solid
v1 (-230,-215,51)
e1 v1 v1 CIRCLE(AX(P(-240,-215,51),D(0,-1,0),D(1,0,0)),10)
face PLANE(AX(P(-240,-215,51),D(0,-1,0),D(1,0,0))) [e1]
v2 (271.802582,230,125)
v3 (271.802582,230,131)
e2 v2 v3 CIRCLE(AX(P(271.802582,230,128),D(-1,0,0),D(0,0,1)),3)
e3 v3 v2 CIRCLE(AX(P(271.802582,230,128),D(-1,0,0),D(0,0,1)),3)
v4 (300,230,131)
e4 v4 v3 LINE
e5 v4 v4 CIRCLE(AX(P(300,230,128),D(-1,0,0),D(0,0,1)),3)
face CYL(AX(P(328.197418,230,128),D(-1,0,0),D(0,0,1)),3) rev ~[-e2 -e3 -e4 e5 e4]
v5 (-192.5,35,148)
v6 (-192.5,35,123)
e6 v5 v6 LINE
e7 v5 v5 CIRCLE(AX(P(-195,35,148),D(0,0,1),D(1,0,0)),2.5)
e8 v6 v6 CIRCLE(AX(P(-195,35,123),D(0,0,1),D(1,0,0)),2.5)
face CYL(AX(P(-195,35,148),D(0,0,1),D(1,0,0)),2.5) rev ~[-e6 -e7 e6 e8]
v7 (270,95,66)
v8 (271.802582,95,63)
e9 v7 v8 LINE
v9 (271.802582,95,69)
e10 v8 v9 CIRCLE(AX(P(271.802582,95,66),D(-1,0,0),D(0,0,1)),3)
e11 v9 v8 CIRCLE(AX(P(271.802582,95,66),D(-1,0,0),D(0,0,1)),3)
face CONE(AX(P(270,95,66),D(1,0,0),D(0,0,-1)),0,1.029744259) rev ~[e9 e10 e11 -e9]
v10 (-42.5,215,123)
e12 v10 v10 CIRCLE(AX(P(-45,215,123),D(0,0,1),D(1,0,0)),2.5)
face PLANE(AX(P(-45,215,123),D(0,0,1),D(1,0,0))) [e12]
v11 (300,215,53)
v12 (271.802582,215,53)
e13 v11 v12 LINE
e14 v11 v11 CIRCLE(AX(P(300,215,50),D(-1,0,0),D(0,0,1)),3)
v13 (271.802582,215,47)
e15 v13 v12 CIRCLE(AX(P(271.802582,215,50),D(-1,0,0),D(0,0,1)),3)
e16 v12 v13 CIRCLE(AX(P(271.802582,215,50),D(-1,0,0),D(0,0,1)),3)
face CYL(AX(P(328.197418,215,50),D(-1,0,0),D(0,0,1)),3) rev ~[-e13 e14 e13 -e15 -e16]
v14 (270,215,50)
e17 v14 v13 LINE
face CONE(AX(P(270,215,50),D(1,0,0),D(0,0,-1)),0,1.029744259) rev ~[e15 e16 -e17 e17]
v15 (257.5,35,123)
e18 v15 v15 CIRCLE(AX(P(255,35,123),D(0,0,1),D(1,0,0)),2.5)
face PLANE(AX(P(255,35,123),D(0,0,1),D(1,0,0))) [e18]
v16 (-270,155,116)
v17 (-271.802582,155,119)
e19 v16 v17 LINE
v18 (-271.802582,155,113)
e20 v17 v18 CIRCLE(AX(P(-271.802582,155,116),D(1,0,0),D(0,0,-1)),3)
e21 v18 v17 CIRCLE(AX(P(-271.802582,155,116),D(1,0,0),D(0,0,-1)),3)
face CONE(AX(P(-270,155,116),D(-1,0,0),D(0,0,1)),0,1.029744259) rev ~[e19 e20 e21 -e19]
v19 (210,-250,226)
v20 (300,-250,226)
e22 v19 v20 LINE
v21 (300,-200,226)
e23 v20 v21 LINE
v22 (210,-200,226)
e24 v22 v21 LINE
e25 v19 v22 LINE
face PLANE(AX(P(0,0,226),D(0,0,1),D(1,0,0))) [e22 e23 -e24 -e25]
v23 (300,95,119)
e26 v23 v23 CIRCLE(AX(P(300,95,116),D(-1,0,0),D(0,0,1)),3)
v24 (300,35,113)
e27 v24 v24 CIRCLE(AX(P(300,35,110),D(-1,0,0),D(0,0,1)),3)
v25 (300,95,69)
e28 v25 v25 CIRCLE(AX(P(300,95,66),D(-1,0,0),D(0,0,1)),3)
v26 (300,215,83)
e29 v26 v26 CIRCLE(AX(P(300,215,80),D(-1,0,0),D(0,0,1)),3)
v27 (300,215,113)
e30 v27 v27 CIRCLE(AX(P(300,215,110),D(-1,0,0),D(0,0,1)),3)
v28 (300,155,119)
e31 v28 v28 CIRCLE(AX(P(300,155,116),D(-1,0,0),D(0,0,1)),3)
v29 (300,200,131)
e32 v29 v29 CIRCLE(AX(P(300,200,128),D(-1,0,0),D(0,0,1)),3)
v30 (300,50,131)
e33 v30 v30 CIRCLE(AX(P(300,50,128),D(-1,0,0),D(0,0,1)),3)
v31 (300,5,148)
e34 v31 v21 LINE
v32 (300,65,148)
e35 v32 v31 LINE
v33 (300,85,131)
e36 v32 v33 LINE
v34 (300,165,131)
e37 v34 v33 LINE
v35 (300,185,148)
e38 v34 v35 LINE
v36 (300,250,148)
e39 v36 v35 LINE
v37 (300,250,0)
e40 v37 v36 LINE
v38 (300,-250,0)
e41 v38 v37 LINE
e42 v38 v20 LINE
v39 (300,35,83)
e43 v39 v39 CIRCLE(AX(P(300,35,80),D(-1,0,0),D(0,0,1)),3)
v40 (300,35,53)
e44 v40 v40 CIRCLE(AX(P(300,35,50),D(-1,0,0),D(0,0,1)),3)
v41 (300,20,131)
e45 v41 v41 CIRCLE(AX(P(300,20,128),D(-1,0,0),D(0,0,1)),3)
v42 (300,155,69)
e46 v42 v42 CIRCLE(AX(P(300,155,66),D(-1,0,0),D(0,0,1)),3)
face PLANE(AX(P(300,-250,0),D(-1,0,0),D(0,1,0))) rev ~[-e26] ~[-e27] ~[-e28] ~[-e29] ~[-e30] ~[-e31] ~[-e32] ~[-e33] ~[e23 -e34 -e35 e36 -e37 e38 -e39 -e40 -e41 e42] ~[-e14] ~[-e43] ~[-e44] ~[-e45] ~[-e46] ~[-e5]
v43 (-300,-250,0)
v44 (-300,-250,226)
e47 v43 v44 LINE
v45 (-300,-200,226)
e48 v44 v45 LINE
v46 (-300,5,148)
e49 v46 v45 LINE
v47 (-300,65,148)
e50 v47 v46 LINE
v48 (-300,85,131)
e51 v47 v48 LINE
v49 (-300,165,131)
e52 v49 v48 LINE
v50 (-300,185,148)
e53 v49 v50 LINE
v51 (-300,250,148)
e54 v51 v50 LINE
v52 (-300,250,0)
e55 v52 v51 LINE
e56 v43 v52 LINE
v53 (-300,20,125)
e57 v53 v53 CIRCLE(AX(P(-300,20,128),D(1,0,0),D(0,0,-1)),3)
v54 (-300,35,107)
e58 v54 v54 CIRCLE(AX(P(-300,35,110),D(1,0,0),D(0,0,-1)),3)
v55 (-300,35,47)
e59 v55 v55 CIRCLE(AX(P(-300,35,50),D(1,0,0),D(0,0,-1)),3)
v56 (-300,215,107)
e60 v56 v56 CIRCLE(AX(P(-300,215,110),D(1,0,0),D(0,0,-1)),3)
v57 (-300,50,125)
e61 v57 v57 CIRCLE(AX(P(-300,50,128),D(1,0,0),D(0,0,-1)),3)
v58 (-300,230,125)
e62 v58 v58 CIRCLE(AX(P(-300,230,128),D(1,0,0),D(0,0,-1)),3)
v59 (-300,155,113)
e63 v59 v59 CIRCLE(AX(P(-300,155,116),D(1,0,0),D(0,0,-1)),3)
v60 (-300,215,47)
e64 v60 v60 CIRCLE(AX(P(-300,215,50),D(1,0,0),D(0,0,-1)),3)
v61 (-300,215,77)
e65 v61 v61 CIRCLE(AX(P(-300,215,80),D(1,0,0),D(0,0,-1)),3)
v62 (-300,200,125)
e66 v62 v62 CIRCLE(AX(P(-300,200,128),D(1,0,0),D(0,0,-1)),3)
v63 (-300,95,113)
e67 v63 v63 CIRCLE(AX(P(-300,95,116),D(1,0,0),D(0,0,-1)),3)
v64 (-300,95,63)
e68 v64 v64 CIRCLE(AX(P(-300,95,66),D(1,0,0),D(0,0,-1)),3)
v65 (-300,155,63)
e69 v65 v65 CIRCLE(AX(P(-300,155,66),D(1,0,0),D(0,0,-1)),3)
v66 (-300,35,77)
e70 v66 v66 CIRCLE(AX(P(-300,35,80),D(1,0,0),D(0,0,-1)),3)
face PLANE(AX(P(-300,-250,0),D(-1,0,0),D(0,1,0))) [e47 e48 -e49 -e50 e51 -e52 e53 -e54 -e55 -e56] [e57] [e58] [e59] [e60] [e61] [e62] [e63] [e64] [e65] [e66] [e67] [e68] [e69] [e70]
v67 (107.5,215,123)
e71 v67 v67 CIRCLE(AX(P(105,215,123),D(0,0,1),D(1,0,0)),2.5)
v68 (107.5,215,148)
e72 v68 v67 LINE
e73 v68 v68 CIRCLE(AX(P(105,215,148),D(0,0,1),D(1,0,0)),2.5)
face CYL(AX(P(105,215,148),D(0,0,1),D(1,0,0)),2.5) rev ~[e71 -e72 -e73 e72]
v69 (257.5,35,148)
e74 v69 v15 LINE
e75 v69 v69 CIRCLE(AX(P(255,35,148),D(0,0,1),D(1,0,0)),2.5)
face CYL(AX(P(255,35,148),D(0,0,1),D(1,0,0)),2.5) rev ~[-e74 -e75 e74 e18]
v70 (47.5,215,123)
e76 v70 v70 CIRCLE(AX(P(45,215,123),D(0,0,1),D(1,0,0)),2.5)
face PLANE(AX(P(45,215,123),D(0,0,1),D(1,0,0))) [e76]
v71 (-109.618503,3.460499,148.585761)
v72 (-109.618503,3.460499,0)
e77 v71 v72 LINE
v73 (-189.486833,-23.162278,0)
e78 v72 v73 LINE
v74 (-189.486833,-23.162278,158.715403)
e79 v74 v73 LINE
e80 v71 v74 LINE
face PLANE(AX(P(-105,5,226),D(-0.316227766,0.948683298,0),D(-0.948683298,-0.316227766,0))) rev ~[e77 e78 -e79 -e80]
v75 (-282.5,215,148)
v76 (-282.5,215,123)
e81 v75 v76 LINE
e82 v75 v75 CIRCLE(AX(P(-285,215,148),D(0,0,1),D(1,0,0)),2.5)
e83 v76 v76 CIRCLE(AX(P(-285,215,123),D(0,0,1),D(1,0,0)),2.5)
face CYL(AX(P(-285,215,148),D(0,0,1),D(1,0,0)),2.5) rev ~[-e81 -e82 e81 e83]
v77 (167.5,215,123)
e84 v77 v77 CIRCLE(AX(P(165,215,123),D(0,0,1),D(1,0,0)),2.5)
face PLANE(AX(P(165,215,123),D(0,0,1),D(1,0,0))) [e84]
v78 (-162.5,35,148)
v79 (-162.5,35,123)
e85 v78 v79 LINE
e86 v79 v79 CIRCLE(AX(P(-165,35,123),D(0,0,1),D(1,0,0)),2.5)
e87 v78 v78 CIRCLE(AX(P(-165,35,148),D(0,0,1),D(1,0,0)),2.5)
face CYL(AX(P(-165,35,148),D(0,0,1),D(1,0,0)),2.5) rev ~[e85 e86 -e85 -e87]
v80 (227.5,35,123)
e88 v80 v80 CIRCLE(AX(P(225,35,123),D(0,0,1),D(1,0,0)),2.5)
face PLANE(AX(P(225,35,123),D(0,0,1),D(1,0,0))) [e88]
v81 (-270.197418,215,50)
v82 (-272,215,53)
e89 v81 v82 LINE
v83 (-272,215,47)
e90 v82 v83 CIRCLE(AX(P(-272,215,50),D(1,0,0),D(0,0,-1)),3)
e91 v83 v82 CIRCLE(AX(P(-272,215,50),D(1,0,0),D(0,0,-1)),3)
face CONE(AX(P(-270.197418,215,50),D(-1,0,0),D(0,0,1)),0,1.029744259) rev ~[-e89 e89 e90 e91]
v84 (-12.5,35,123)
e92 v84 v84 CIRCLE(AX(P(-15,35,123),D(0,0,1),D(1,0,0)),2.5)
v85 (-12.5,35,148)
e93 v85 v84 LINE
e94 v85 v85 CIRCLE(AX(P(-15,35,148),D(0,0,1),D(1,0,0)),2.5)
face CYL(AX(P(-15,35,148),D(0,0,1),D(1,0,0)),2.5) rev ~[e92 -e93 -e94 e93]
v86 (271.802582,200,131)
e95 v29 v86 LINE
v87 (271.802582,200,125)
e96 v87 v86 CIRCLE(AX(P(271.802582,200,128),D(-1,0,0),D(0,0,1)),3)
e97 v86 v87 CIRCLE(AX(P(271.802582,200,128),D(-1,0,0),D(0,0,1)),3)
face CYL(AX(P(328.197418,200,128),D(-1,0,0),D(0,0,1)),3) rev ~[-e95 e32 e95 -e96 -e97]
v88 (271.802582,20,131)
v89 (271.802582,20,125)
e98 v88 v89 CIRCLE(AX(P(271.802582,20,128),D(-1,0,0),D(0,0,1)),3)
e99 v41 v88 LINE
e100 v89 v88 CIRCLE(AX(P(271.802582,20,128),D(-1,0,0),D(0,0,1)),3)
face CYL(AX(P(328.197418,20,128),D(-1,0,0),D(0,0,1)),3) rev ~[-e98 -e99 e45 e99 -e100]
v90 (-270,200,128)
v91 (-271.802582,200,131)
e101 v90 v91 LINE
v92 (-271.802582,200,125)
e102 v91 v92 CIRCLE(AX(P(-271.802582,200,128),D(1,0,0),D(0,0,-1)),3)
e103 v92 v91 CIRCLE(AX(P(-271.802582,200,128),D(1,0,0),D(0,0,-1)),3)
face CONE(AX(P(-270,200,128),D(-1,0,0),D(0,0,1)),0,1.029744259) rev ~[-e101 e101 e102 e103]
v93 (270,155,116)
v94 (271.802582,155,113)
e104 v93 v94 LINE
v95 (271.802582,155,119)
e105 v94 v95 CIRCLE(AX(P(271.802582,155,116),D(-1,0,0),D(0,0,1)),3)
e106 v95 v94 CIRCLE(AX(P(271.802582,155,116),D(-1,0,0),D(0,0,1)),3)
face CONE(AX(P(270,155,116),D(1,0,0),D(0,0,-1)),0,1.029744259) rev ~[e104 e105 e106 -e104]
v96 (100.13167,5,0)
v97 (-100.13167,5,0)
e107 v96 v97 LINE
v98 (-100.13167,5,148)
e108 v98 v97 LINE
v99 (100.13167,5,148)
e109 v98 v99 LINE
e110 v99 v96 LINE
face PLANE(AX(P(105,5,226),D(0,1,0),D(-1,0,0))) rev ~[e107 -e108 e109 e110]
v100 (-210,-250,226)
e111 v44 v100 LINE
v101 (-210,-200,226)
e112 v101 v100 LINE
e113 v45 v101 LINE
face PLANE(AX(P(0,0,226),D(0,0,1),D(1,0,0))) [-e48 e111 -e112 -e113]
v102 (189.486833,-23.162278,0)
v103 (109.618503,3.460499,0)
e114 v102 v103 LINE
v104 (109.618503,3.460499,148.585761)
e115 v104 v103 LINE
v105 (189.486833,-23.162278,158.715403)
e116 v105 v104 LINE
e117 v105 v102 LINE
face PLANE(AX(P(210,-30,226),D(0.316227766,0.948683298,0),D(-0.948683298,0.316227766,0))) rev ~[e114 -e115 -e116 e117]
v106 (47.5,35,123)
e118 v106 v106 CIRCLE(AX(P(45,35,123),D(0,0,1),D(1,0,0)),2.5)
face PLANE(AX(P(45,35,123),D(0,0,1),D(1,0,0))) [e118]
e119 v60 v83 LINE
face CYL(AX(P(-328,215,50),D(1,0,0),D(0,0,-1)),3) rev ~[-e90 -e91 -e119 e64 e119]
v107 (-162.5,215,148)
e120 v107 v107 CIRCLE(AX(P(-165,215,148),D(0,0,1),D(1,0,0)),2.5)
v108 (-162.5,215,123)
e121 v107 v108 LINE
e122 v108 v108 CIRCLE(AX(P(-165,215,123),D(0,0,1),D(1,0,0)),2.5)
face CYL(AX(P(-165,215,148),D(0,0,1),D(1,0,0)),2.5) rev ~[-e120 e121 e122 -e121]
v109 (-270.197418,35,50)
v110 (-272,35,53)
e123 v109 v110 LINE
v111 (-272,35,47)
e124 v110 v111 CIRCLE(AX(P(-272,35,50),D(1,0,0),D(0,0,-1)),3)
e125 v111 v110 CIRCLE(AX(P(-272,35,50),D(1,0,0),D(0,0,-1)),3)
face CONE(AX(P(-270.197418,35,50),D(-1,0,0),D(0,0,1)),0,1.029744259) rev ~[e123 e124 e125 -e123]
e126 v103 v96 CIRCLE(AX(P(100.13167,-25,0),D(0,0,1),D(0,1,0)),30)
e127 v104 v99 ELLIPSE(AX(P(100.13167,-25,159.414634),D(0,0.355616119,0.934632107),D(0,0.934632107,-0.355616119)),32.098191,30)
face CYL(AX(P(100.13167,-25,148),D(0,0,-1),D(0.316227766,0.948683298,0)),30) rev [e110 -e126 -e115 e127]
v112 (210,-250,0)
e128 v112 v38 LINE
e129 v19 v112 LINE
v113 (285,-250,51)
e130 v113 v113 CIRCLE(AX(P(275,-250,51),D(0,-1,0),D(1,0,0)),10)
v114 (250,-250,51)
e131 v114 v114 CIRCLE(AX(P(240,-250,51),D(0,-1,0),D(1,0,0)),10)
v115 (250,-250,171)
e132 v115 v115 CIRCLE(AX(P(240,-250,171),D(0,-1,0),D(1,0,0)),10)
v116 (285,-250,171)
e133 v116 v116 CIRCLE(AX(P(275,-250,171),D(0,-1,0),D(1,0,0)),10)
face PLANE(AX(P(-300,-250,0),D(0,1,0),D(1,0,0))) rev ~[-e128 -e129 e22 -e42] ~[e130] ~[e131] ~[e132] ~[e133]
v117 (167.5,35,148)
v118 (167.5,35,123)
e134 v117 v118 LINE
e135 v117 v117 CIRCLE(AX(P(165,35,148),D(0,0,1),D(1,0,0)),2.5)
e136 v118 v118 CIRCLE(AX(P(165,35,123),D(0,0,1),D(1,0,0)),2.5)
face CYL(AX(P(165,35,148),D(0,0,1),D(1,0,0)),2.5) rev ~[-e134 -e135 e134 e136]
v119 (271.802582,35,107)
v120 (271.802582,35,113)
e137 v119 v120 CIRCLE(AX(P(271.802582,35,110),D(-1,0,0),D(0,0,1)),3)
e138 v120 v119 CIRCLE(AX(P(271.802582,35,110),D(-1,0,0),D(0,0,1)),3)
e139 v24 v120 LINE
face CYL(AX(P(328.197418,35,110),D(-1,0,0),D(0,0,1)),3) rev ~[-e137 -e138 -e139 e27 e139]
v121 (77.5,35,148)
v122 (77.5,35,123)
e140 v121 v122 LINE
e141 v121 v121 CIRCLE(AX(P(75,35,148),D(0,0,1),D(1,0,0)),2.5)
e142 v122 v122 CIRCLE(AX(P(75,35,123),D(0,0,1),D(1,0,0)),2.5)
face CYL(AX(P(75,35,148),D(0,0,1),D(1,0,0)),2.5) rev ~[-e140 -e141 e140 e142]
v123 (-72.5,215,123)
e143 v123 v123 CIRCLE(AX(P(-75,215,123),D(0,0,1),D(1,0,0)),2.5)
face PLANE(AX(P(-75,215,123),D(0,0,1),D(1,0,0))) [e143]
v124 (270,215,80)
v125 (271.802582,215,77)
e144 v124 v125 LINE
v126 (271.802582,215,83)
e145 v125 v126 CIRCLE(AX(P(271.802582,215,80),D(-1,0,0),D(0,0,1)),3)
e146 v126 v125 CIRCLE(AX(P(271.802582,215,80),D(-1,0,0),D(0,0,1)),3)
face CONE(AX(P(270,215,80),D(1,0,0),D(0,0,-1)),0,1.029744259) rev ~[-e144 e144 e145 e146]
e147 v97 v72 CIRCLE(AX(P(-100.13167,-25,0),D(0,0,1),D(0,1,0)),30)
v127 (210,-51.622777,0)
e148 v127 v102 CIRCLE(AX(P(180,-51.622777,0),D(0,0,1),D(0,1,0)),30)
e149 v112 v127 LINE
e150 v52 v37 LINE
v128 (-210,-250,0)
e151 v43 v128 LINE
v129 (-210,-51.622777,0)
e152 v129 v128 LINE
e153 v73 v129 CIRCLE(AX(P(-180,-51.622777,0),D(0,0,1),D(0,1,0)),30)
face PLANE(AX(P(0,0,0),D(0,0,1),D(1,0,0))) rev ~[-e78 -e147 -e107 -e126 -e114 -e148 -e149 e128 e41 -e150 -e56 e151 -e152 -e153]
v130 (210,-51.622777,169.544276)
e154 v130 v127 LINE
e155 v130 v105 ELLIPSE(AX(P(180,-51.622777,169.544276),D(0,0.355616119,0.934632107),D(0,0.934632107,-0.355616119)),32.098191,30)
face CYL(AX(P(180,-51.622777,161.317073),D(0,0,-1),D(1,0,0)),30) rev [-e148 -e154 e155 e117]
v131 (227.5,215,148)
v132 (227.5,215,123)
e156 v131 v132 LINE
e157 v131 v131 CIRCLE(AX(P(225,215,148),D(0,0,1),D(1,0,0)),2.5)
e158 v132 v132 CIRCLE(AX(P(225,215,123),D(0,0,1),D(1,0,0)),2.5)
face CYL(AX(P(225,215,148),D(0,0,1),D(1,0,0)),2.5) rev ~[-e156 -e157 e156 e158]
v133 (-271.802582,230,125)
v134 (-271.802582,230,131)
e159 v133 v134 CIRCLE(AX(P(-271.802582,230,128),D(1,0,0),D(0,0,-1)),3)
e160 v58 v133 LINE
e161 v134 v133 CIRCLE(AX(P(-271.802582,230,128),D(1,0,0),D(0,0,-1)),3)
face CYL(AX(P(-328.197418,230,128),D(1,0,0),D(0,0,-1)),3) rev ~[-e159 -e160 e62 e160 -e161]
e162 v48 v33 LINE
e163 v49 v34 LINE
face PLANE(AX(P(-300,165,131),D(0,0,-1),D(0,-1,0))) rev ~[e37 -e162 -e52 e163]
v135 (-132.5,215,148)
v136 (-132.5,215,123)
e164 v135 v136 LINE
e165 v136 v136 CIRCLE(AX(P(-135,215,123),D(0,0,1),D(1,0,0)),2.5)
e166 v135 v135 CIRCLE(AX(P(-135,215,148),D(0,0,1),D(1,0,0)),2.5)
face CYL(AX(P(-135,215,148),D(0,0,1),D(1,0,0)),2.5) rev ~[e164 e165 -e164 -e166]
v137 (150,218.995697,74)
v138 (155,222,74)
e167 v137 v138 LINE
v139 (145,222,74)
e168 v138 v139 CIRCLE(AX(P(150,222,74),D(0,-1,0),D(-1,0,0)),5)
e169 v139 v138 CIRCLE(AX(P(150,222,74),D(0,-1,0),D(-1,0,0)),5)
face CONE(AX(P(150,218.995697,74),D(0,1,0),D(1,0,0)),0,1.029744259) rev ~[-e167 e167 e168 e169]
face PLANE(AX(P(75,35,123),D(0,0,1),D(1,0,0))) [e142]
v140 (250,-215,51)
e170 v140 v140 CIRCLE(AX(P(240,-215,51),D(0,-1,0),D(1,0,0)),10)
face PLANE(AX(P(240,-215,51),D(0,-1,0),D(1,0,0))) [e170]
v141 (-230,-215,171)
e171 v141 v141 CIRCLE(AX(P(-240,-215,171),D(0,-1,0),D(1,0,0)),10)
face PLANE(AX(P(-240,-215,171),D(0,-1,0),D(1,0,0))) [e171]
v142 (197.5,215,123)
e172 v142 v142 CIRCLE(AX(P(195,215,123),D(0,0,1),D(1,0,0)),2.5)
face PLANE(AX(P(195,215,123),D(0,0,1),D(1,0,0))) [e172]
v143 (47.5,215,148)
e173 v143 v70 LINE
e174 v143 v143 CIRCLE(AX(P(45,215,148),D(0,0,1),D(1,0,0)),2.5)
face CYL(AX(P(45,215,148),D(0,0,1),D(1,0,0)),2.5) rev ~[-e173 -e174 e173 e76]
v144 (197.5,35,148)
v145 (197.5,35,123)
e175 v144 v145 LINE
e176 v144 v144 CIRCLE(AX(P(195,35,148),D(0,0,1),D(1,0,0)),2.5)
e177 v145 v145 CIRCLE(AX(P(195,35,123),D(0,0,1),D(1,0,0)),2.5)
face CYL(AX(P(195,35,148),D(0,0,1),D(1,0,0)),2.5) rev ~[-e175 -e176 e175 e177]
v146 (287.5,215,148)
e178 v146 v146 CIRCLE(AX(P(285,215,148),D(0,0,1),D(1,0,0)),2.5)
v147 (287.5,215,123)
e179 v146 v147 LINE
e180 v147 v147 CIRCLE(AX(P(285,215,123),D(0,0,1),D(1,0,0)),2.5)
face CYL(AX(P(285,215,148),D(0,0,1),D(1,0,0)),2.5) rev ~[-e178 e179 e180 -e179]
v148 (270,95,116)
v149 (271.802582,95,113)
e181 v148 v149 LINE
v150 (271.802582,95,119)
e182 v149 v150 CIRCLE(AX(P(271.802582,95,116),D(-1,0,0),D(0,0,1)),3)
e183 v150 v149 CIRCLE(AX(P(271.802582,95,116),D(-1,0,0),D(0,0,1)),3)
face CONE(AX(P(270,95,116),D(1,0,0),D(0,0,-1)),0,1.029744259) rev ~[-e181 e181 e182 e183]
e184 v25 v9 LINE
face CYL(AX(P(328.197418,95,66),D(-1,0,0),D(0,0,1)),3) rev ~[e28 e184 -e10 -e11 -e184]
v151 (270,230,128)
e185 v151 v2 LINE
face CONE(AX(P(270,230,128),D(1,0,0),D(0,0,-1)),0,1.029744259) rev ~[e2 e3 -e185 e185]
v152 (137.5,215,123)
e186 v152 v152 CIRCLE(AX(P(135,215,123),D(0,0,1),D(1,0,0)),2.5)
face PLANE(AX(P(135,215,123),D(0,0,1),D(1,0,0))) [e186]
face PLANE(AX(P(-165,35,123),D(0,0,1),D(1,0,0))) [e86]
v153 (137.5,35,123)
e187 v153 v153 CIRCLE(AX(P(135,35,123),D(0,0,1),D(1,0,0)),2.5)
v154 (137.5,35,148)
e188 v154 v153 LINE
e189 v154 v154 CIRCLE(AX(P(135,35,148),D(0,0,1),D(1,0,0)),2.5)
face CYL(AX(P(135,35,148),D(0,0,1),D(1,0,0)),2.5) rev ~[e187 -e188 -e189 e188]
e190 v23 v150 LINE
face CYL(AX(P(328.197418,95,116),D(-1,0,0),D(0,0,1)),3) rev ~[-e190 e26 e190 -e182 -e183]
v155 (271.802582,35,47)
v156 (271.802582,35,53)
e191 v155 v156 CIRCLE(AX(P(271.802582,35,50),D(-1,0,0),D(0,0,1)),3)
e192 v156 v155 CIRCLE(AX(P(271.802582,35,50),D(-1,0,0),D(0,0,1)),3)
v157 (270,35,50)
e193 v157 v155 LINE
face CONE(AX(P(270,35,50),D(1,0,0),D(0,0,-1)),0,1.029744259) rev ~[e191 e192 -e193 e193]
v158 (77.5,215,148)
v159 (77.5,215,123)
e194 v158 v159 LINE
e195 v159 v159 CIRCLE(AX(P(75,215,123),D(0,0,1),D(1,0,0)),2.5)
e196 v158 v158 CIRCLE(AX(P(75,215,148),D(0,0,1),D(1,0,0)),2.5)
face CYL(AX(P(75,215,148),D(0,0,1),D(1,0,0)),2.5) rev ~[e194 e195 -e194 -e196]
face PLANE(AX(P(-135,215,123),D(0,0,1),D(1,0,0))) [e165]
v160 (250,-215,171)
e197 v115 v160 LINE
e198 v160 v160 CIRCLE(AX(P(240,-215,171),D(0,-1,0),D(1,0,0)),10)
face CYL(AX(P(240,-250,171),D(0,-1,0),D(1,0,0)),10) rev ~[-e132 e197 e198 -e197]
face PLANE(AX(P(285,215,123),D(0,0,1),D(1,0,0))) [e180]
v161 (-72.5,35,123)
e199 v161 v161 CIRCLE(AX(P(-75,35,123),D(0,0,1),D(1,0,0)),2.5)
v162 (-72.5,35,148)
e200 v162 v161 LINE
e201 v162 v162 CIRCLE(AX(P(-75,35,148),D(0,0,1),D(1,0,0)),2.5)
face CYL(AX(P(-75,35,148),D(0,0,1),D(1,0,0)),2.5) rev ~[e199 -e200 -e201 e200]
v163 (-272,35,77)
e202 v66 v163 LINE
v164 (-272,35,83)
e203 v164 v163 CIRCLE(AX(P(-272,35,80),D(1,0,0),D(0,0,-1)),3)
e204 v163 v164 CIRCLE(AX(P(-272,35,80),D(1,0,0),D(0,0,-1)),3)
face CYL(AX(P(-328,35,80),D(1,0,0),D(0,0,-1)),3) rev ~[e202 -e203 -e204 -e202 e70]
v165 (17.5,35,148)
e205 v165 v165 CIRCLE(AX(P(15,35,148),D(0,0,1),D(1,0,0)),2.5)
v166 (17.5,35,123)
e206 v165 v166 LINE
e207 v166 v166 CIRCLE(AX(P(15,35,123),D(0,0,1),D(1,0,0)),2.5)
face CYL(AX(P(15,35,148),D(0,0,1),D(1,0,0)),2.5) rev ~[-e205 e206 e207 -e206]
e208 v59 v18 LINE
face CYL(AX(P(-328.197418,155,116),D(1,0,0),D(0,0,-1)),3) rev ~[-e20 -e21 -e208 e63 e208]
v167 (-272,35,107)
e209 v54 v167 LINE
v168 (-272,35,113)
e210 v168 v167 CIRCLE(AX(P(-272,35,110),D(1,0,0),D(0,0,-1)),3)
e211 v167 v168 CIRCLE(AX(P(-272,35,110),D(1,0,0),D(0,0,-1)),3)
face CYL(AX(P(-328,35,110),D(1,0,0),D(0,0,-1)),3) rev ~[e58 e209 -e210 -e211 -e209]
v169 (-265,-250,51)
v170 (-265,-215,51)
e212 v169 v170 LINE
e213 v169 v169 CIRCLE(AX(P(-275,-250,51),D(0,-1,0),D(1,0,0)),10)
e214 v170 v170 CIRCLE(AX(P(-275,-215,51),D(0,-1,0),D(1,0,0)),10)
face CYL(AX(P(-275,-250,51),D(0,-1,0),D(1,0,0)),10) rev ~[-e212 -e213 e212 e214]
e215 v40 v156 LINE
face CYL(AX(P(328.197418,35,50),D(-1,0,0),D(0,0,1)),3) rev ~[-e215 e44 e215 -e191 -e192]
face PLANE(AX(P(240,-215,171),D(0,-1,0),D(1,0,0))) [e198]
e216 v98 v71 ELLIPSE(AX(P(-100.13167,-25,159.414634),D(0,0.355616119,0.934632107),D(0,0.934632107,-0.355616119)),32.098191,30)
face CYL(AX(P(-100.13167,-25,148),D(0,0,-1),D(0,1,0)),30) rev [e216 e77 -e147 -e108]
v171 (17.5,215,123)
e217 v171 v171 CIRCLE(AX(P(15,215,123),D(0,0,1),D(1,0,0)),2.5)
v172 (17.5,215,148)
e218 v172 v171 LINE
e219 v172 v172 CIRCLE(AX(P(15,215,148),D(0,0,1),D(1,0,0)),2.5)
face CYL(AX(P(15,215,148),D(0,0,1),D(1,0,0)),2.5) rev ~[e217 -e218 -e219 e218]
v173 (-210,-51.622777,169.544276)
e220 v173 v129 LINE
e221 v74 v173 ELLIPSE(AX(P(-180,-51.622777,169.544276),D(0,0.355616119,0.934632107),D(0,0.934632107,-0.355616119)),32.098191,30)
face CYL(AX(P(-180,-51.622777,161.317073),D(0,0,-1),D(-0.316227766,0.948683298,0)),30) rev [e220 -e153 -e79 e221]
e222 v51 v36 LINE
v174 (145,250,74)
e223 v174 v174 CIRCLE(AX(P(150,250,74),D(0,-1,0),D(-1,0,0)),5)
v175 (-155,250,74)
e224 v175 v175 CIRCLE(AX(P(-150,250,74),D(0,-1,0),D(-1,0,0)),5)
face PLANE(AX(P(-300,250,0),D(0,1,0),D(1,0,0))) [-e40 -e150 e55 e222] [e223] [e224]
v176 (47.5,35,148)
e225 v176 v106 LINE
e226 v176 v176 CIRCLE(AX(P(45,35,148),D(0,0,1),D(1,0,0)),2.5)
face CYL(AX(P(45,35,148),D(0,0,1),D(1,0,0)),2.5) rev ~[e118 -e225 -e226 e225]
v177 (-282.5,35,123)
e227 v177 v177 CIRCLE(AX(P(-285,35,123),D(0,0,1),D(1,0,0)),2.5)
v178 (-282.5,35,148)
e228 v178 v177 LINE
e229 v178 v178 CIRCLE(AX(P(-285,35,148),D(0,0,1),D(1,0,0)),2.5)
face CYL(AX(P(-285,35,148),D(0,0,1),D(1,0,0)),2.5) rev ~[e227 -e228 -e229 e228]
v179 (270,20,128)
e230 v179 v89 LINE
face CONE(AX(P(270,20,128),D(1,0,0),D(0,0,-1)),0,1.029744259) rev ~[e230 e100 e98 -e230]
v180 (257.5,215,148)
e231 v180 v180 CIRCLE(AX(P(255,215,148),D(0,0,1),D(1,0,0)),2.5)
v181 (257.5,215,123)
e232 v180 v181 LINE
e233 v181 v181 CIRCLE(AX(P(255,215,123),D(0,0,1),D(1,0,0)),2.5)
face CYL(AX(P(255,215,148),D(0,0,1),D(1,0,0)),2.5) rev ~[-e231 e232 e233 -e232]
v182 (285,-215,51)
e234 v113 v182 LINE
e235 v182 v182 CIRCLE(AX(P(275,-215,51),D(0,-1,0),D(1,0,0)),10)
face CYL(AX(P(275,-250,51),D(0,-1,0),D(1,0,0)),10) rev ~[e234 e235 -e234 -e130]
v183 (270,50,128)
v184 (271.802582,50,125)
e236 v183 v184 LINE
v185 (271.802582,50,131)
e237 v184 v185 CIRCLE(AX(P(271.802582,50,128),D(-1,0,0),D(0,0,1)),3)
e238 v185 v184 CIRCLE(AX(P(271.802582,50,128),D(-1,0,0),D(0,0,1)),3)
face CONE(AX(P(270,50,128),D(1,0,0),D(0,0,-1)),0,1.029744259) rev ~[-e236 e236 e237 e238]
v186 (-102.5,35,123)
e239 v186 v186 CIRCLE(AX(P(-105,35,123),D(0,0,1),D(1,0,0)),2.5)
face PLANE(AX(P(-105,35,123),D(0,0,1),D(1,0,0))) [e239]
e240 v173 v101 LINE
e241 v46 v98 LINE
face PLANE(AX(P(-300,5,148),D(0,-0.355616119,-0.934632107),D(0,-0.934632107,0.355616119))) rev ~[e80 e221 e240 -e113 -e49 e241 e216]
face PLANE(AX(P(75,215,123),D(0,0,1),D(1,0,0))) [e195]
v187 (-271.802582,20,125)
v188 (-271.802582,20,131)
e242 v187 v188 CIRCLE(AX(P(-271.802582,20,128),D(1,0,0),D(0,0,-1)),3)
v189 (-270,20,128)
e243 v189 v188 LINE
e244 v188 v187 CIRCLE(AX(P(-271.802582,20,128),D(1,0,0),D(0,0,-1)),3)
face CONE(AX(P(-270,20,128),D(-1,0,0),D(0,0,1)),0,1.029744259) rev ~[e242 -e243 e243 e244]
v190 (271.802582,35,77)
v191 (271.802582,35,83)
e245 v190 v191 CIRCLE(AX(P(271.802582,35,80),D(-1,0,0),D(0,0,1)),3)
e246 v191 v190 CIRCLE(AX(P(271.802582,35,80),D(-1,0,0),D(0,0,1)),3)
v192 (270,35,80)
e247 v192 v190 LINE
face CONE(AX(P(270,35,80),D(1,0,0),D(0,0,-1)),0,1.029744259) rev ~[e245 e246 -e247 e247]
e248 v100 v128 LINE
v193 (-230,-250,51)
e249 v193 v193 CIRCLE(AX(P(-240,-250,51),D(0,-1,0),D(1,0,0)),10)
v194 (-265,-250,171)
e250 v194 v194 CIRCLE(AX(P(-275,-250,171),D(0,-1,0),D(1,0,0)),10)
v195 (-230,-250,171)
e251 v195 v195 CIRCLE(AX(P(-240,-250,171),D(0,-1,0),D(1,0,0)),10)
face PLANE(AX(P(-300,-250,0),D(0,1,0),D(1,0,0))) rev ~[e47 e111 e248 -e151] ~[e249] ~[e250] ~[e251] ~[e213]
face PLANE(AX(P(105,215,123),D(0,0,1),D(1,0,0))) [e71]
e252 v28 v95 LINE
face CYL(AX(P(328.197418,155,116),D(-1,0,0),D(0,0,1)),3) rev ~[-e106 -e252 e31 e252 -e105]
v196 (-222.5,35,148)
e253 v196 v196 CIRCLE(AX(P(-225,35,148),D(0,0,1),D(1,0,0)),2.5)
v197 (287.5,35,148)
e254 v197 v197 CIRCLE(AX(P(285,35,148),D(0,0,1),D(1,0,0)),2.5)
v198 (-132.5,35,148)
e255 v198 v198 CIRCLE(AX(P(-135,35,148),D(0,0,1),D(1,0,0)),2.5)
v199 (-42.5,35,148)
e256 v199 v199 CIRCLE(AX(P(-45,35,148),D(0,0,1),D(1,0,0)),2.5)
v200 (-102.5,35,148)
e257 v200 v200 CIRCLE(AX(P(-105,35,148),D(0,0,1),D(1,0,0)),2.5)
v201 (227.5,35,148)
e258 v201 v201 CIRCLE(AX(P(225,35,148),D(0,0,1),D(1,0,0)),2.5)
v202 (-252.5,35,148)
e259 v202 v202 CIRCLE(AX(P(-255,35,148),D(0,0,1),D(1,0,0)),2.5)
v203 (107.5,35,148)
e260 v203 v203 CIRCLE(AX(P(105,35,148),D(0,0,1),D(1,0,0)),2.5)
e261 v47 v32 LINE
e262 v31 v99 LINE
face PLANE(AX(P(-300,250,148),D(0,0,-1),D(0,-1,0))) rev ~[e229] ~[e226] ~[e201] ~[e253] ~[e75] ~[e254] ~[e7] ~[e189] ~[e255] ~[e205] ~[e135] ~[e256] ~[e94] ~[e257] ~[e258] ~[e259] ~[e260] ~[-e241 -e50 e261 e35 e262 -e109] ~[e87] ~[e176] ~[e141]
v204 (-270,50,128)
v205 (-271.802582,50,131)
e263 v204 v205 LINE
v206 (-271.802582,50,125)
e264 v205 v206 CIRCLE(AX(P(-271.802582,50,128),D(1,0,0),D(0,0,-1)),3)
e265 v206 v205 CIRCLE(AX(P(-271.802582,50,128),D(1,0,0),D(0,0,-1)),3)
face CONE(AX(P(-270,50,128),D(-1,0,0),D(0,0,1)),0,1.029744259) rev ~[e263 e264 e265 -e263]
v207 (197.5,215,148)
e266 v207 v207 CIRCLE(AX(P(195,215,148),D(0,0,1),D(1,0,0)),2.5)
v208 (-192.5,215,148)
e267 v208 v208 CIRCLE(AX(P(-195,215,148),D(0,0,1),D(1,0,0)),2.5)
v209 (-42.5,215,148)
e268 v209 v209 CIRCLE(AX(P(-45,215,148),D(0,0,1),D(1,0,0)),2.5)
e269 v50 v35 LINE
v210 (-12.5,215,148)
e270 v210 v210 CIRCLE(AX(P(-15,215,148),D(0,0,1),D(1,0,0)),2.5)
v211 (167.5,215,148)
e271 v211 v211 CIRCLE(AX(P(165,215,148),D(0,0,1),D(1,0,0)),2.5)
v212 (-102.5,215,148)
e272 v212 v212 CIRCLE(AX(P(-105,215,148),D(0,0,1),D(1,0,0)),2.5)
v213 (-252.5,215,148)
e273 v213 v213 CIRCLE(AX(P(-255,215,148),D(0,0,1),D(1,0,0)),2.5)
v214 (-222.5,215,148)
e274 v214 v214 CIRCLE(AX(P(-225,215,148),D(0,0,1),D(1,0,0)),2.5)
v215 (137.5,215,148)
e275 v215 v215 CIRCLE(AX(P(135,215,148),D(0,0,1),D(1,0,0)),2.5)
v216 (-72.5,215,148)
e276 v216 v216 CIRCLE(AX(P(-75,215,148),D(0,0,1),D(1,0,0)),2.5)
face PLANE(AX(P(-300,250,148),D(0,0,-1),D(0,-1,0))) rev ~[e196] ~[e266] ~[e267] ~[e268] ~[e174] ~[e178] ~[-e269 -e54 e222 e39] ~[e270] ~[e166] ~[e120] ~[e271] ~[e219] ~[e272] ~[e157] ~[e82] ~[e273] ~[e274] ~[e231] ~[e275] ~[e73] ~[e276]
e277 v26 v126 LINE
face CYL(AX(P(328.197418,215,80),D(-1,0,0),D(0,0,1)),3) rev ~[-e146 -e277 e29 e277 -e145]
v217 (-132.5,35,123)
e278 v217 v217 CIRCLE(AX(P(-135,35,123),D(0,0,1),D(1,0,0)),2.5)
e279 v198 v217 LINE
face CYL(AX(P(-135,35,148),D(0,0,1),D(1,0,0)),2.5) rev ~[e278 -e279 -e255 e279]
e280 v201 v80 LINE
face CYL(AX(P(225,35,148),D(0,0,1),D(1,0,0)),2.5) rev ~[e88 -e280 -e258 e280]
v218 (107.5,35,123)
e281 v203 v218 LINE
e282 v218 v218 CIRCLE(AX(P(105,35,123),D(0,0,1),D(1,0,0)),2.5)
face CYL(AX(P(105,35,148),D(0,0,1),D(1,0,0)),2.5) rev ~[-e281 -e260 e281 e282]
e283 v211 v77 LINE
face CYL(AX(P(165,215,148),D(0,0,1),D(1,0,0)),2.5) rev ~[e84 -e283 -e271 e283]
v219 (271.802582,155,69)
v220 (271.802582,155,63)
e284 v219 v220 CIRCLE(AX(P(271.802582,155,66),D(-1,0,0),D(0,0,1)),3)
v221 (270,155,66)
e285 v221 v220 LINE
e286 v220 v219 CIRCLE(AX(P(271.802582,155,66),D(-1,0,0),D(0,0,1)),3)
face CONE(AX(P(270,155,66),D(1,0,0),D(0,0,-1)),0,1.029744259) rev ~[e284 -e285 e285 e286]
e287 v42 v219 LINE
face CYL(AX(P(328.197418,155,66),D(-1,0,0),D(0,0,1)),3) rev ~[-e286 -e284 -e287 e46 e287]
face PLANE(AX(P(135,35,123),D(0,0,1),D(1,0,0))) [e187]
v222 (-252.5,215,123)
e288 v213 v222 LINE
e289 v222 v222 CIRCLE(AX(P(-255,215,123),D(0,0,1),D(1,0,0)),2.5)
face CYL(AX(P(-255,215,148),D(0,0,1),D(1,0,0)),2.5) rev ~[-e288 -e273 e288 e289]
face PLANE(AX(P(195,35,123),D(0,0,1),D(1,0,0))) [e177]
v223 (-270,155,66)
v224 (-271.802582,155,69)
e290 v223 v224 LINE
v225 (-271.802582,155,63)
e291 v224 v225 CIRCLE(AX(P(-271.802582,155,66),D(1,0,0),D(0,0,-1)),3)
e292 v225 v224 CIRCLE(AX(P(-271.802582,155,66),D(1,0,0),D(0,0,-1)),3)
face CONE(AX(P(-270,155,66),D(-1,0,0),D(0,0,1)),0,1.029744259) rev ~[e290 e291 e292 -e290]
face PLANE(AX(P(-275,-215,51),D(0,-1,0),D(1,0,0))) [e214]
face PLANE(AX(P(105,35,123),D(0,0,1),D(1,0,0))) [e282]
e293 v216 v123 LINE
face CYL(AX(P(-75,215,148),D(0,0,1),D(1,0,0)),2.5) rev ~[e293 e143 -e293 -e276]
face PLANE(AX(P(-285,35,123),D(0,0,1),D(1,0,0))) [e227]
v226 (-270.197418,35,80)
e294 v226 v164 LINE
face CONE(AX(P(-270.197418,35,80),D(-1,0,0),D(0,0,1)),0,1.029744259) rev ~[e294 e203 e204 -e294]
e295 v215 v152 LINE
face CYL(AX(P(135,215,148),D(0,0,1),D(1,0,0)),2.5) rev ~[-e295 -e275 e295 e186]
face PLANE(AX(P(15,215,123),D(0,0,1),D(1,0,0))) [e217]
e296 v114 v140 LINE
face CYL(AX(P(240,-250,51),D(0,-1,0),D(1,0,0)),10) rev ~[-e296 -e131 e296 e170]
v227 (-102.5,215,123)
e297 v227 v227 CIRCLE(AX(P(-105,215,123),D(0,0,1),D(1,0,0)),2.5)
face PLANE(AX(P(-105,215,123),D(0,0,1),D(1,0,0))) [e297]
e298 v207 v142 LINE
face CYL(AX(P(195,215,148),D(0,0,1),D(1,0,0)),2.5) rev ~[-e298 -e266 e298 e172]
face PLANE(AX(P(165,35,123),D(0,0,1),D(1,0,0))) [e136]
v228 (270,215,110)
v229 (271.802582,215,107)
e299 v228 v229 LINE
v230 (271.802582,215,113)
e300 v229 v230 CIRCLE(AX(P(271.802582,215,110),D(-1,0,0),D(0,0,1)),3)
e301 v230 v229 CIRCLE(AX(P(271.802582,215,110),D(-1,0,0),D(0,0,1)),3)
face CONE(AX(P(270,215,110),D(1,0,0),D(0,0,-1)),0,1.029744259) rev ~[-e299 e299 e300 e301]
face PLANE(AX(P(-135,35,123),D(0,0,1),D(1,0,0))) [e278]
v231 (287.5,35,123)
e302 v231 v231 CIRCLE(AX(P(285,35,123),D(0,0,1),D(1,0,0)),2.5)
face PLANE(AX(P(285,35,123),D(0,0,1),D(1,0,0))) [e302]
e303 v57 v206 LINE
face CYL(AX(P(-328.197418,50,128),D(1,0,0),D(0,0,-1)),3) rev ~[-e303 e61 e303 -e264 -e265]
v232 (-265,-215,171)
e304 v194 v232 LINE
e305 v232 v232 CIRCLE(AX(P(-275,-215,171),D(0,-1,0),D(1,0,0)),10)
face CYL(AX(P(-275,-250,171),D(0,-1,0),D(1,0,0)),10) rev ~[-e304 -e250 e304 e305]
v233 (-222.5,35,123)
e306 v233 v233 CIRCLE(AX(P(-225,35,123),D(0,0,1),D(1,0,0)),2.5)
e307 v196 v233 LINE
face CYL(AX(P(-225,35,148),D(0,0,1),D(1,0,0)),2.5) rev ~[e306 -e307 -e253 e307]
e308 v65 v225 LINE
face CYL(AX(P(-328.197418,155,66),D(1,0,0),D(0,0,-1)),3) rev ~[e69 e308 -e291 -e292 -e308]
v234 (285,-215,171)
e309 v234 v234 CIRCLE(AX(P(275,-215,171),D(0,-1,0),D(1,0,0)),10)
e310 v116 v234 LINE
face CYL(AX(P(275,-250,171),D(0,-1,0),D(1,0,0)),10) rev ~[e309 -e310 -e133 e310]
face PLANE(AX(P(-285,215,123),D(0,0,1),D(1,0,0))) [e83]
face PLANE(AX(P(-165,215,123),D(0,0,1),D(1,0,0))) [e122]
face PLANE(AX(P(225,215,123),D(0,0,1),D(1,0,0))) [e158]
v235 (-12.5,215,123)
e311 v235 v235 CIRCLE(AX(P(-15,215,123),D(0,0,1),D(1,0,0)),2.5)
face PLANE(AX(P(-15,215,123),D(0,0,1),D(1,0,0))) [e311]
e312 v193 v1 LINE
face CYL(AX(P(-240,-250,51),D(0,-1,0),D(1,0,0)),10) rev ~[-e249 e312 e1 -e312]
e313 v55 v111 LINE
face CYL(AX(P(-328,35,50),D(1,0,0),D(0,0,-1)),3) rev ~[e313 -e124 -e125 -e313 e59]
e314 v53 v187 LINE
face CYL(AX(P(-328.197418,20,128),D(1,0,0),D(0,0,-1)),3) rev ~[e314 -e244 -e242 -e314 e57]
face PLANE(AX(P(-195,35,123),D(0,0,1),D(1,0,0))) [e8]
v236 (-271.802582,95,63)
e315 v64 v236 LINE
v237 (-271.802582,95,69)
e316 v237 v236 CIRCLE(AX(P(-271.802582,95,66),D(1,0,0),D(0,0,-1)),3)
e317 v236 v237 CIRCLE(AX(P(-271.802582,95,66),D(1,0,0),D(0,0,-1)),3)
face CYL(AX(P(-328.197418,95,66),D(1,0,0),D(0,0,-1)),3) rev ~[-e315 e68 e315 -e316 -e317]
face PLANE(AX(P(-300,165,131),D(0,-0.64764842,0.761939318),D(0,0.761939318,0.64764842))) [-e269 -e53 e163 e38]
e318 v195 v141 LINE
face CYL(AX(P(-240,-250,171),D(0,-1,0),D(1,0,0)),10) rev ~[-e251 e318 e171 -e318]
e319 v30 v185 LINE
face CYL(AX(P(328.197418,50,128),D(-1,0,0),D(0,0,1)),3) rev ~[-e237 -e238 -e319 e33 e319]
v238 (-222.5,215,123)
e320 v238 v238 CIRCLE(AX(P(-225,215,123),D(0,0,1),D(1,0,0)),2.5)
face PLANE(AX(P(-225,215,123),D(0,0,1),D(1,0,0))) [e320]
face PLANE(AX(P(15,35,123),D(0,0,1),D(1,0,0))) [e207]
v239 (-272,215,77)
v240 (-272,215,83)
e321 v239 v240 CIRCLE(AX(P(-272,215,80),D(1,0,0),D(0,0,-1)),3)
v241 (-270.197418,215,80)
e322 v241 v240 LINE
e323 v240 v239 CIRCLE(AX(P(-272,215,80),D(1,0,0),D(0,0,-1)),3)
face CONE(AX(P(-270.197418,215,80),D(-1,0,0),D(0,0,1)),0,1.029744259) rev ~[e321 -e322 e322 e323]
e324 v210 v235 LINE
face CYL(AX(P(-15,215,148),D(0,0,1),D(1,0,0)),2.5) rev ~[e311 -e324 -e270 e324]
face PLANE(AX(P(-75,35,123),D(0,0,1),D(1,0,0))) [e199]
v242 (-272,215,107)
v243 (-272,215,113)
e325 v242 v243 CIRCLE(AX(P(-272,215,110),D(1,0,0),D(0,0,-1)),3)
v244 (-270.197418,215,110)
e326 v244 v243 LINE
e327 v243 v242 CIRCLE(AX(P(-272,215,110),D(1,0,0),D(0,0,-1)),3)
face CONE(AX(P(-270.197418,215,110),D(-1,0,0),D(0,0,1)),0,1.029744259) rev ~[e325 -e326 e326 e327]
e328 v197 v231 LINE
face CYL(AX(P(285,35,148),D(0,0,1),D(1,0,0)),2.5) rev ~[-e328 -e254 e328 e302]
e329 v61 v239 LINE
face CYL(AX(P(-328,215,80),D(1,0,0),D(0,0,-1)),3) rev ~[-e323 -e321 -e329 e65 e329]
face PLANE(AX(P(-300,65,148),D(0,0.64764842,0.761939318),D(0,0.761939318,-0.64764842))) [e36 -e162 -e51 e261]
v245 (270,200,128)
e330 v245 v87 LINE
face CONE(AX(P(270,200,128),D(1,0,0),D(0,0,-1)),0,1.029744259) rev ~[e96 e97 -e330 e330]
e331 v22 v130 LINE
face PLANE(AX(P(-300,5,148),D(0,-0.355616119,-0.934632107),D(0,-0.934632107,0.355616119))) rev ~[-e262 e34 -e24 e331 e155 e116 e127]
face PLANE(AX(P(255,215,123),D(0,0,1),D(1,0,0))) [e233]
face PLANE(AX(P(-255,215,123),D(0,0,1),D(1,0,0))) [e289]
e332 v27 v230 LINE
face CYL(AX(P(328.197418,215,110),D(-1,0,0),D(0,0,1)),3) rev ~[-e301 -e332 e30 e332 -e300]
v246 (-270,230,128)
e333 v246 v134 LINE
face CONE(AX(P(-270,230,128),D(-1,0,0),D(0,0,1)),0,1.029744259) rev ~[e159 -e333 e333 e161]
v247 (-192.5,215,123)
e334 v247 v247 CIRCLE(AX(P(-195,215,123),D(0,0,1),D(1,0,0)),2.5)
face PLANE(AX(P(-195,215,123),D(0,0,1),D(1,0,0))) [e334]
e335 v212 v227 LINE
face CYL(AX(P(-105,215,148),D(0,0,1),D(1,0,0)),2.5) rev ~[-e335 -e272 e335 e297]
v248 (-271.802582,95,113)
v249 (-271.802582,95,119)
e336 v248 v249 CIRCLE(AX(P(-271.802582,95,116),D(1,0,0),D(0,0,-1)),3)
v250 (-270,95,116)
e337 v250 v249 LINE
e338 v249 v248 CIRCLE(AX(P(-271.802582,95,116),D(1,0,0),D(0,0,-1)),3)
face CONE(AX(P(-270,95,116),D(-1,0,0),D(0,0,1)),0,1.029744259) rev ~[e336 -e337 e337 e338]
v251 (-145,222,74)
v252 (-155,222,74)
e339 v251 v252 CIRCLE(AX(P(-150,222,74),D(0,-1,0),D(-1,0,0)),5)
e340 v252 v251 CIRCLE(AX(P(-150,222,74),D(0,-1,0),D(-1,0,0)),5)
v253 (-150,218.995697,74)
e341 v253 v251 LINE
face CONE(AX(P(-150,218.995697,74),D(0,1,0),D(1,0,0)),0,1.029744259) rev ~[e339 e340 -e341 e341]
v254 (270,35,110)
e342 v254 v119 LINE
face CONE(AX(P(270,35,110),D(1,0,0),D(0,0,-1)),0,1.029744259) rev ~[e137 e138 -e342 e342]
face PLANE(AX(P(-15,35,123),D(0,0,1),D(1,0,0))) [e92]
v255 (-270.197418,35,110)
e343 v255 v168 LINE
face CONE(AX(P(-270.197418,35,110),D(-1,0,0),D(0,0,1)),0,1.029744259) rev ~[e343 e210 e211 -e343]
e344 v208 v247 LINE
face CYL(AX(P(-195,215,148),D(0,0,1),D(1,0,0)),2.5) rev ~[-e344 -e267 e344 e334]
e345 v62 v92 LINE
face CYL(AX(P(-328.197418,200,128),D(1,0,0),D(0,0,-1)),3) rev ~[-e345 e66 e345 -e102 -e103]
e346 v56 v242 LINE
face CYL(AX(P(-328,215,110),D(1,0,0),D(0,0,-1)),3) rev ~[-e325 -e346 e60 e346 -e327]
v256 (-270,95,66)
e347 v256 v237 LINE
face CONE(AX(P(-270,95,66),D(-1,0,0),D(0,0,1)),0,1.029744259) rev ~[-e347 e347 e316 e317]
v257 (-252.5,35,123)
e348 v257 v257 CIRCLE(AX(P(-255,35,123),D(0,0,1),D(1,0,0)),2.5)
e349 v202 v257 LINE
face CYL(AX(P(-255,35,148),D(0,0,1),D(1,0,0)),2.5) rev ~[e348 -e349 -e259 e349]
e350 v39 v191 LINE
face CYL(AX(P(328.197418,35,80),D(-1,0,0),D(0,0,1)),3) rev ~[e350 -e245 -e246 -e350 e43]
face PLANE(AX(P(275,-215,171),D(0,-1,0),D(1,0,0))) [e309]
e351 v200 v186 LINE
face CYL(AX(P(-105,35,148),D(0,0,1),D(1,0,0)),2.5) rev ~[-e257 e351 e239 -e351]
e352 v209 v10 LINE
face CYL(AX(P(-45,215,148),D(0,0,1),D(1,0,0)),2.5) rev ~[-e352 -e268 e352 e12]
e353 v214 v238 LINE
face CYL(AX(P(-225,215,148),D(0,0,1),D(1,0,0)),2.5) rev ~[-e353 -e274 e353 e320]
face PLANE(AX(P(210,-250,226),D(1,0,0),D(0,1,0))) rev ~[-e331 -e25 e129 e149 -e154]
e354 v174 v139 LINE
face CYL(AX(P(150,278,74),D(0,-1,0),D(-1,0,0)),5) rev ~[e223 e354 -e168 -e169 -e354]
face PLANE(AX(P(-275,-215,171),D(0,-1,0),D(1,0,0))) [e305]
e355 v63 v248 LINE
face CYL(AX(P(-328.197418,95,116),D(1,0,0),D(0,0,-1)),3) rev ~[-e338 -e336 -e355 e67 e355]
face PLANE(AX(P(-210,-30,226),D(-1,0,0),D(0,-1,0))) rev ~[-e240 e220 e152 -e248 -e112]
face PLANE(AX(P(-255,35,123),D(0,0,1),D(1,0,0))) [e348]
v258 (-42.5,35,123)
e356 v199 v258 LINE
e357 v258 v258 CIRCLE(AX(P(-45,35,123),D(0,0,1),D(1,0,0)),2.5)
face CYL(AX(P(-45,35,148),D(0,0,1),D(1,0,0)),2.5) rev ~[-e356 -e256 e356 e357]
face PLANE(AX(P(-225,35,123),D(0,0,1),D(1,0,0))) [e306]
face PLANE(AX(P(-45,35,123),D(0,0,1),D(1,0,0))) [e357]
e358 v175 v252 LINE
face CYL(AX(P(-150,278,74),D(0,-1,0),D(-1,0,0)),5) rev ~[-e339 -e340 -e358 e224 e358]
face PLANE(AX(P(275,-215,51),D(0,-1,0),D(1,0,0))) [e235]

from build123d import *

# Parameters (mm, degrees)
SKETCH1_W                  = 600
SKETCH1_H                  = 500
BOSS_EXTRUDE1_DEPTH        = 226
SKETCH2_OUTSIDE_W          = 764.614
SKETCH2_OUTSIDE_H          = 664.614
CUT_EXTRUDE1_DEPTH         = 452.193971591
CUT_EXTRUDE8_DEPTH         = 452.193971591
CUT_EXTRUDE2_DEPTH         = 689.168583997
CUT_EXTRUDE3_DEPTH         = 689.168583997
SKETCH7_R                  = 2.5
CUT_EXTRUDE5_DEPTH         = 25
SKETCH8_R                  = 10
CUT_EXTRUDE6_DEPTH         = 35
F_6_0MM_DOWEL_HOLE1_D      = 6
F_6_0MM_DOWEL_HOLE1_DEPTH  = 28.197418143
F_6_0MM_DOWEL_HOLE1_TIP    = 1.802581857
F_6_0MM_DOWEL_HOLE2_D      = 6
F_6_0MM_DOWEL_HOLE2_DEPTH  = 28.197418143
F_6_0MM_DOWEL_HOLE2_TIP    = 1.802581857
F_6_0MM_DOWEL_HOLE3_D      = 6
F_6_0MM_DOWEL_HOLE3_DEPTH  = 28.197418143
F_6_0MM_DOWEL_HOLE3_TIP    = 1.802581857
FILLET2_R                  = 30
F_6_0MM_DOWEL_HOLE4_D      = 6
F_6_0MM_DOWEL_HOLE4_DEPTH  = 28
F_6_0MM_DOWEL_HOLE4_TIP    = 1.802581857
F_10_0MM_DOWEL_HOLE1_D     = 10
F_10_0MM_DOWEL_HOLE1_DEPTH = 28
F_10_0MM_DOWEL_HOLE1_TIP   = 3.004303095


with BuildPart() as part:
    # Sketch1 → Boss-Extrude1 (new body)
    with BuildSketch(Plane.XY):
        Rectangle(SKETCH1_W, SKETCH1_H)
    extrude(amount=BOSS_EXTRUDE1_DEPTH)

    # Sketch2 outside → Cut-Extrude1 (cut, through all)
    with BuildSketch(Plane.XY.offset(226)):
        Rectangle(SKETCH2_OUTSIDE_W, SKETCH2_OUTSIDE_H)
        Polygon((-210, -250), (-210, -225), (-210, -30), (210, -30), (210, -225), (210, -250), (300, -250), (300, 250), (-300, 250), (-300, -250), align=None, mode=Mode.SUBTRACT)
    extrude(amount=-CUT_EXTRUDE1_DEPTH, mode=Mode.SUBTRACT)

    # Sketch22 → Cut-Extrude8 (cut, through all)
    with BuildSketch(Plane.XY.offset(226)):
        Polygon((-210, -30), (210, -30), (105, 5), (0, 5), (-105, 5), align=None)
    extrude(amount=-CUT_EXTRUDE8_DEPTH, mode=Mode.SUBTRACT)

    # Sketch4 → Cut-Extrude2 (cut, through all)
    with BuildSketch(Plane.ZY.offset(300)):
        Polygon((148, 25), (148, 5), (226, -200), (226, -165), (226, -145), (226, 250), (148, 250), align=None)
    extrude(amount=-CUT_EXTRUDE2_DEPTH, mode=Mode.SUBTRACT)

    # Sketch5 → Cut-Extrude3 (cut, through all)
    with BuildSketch(Plane.ZY.offset(300)):
        Polygon((131, 160), (131, 165), (148, 185), (148, 65), (131, 85), (131, 90), (131, 125), align=None)
    extrude(amount=-CUT_EXTRUDE3_DEPTH, mode=Mode.SUBTRACT)

    # Sketch7 → Cut-Extrude5 (cut)
    with BuildSketch(Plane.XY.offset(148)):
        with Locations((-285, 215)):
            Circle(SKETCH7_R)
        with Locations((-255, 215)):
            Circle(SKETCH7_R)
        with Locations((-225, 215)):
            Circle(SKETCH7_R)
        with Locations((-195, 215)):
            Circle(SKETCH7_R)
        with Locations((-165, 215)):
            Circle(SKETCH7_R)
        with Locations((-135, 215)):
            Circle(SKETCH7_R)
        with Locations((-105, 215)):
            Circle(SKETCH7_R)
        with Locations((-75, 215)):
            Circle(SKETCH7_R)
        with Locations((-45, 215)):
            Circle(SKETCH7_R)
        with Locations((-15, 215)):
            Circle(SKETCH7_R)
        with Locations((15, 215)):
            Circle(SKETCH7_R)
        with Locations((45, 215)):
            Circle(SKETCH7_R)
        with Locations((75, 215)):
            Circle(SKETCH7_R)
        with Locations((105, 215)):
            Circle(SKETCH7_R)
        with Locations((135, 215)):
            Circle(SKETCH7_R)
        with Locations((165, 215)):
            Circle(SKETCH7_R)
        with Locations((195, 215)):
            Circle(SKETCH7_R)
        with Locations((225, 215)):
            Circle(SKETCH7_R)
        with Locations((255, 215)):
            Circle(SKETCH7_R)
        with Locations((285, 215)):
            Circle(SKETCH7_R)
        with Locations((-255, 35)):
            Circle(SKETCH7_R)
        with Locations((-225, 35)):
            Circle(SKETCH7_R)
        with Locations((-195, 35)):
            Circle(SKETCH7_R)
        with Locations((-165, 35)):
            Circle(SKETCH7_R)
        with Locations((-135, 35)):
            Circle(SKETCH7_R)
        with Locations((-105, 35)):
            Circle(SKETCH7_R)
        with Locations((-75, 35)):
            Circle(SKETCH7_R)
        with Locations((-45, 35)):
            Circle(SKETCH7_R)
        with Locations((-15, 35)):
            Circle(SKETCH7_R)
        with Locations((15, 35)):
            Circle(SKETCH7_R)
        with Locations((45, 35)):
            Circle(SKETCH7_R)
        with Locations((75, 35)):
            Circle(SKETCH7_R)
        with Locations((105, 35)):
            Circle(SKETCH7_R)
        with Locations((135, 35)):
            Circle(SKETCH7_R)
        with Locations((165, 35)):
            Circle(SKETCH7_R)
        with Locations((195, 35)):
            Circle(SKETCH7_R)
        with Locations((225, 35)):
            Circle(SKETCH7_R)
        with Locations((255, 35)):
            Circle(SKETCH7_R)
        with Locations((285, 35)):
            Circle(SKETCH7_R)
        with Locations((-285, 35)):
            Circle(SKETCH7_R)
    extrude(amount=-CUT_EXTRUDE5_DEPTH, mode=Mode.SUBTRACT)

    # Sketch8 → Cut-Extrude6 (cut)
    with BuildSketch(Plane.XZ.offset(250)):
        with Locations((240, 171)):
            Circle(SKETCH8_R)
        with Locations((275, 171)):
            Circle(SKETCH8_R)
        with Locations((240, 51)):
            Circle(SKETCH8_R)
        with Locations((275, 51)):
            Circle(SKETCH8_R)
        with Locations((-275, 51)):
            Circle(SKETCH8_R)
        with Locations((-240, 51)):
            Circle(SKETCH8_R)
        with Locations((-275, 171)):
            Circle(SKETCH8_R)
        with Locations((-240, 171)):
            Circle(SKETCH8_R)
    extrude(amount=-CUT_EXTRUDE6_DEPTH, mode=Mode.SUBTRACT)

    # Ø6.0mm Dowel Hole1
    with Locations(Plane.ZY.offset(300)):
        with Locations((116, 95), (66, 95), (66, 155), (116, 155), (128, 230), (128, 200), (128, 50), (128, 20)):
            Hole(F_6_0MM_DOWEL_HOLE1_D / 2, depth=F_6_0MM_DOWEL_HOLE1_DEPTH)
            with Locations((0, 0, -(F_6_0MM_DOWEL_HOLE1_DEPTH + F_6_0MM_DOWEL_HOLE1_TIP / 2))):  # 118° drill point
                Cone(0, F_6_0MM_DOWEL_HOLE1_D / 2, F_6_0MM_DOWEL_HOLE1_TIP, mode=Mode.SUBTRACT)

    # Ø6.0mm Dowel Hole2
    with Locations(Plane(origin=(300, 0, 0), x_dir=(0, 0, -1), z_dir=(1, 0, 0))):
        with Locations((-128, 230), (-128, 200), (-116, 155), (-66, 155), (-66, 95), (-116, 95), (-128, 50), (-128, 20)):
            Hole(F_6_0MM_DOWEL_HOLE2_D / 2, depth=F_6_0MM_DOWEL_HOLE2_DEPTH)
            with Locations((0, 0, -(F_6_0MM_DOWEL_HOLE2_DEPTH + F_6_0MM_DOWEL_HOLE2_TIP / 2))):  # 118° drill point
                Cone(0, F_6_0MM_DOWEL_HOLE2_D / 2, F_6_0MM_DOWEL_HOLE2_TIP, mode=Mode.SUBTRACT)

    # Ø6.0mm Dowel Hole3
    with Locations(Plane(origin=(300, 0, 0), x_dir=(0, 0, -1), z_dir=(1, 0, 0))):
        with Locations((-110, 215), (-80, 215), (-50, 215), (-50, 35), (-80, 35), (-110, 35)):
            Hole(F_6_0MM_DOWEL_HOLE3_D / 2, depth=F_6_0MM_DOWEL_HOLE3_DEPTH)
            with Locations((0, 0, -(F_6_0MM_DOWEL_HOLE3_DEPTH + F_6_0MM_DOWEL_HOLE3_TIP / 2))):  # 118° drill point
                Cone(0, F_6_0MM_DOWEL_HOLE3_D / 2, F_6_0MM_DOWEL_HOLE3_TIP, mode=Mode.SUBTRACT)

    # Fillet2
    fillet2_edges = [part.edges().sort_by_distance(p)[0] for p in [
        (210, -30, 80.658536585),
        (-210, -30, 80.658536585),
        (-105, 5, 74),
        (105, 5, 74),
    ]]
    fillet(fillet2_edges, radius=FILLET2_R)

    # Ø6.0mm Dowel Hole4
    with Locations(Plane.ZY.offset(300)):
        with Locations((110, 215), (80, 215), (50, 215), (110, 35), (80, 35), (50, 35)):
            Hole(F_6_0MM_DOWEL_HOLE4_D / 2, depth=F_6_0MM_DOWEL_HOLE4_DEPTH)
            with Locations((0, 0, -(F_6_0MM_DOWEL_HOLE4_DEPTH + F_6_0MM_DOWEL_HOLE4_TIP / 2))):  # 118° drill point
                Cone(0, F_6_0MM_DOWEL_HOLE4_D / 2, F_6_0MM_DOWEL_HOLE4_TIP, mode=Mode.SUBTRACT)

    # Ø10.0mm Dowel Hole1
    with Locations(Plane(origin=(0, 250, 0), x_dir=(1, 0, 0), z_dir=(0, 1, 0))):
        with Locations((-150, -74), (150, -74)):
            Hole(F_10_0MM_DOWEL_HOLE1_D / 2, depth=F_10_0MM_DOWEL_HOLE1_DEPTH)
            with Locations((0, 0, -(F_10_0MM_DOWEL_HOLE1_DEPTH + F_10_0MM_DOWEL_HOLE1_TIP / 2))):  # 118° drill point
                Cone(0, F_10_0MM_DOWEL_HOLE1_D / 2, F_10_0MM_DOWEL_HOLE1_TIP, mode=Mode.SUBTRACT)


solid = part.part
